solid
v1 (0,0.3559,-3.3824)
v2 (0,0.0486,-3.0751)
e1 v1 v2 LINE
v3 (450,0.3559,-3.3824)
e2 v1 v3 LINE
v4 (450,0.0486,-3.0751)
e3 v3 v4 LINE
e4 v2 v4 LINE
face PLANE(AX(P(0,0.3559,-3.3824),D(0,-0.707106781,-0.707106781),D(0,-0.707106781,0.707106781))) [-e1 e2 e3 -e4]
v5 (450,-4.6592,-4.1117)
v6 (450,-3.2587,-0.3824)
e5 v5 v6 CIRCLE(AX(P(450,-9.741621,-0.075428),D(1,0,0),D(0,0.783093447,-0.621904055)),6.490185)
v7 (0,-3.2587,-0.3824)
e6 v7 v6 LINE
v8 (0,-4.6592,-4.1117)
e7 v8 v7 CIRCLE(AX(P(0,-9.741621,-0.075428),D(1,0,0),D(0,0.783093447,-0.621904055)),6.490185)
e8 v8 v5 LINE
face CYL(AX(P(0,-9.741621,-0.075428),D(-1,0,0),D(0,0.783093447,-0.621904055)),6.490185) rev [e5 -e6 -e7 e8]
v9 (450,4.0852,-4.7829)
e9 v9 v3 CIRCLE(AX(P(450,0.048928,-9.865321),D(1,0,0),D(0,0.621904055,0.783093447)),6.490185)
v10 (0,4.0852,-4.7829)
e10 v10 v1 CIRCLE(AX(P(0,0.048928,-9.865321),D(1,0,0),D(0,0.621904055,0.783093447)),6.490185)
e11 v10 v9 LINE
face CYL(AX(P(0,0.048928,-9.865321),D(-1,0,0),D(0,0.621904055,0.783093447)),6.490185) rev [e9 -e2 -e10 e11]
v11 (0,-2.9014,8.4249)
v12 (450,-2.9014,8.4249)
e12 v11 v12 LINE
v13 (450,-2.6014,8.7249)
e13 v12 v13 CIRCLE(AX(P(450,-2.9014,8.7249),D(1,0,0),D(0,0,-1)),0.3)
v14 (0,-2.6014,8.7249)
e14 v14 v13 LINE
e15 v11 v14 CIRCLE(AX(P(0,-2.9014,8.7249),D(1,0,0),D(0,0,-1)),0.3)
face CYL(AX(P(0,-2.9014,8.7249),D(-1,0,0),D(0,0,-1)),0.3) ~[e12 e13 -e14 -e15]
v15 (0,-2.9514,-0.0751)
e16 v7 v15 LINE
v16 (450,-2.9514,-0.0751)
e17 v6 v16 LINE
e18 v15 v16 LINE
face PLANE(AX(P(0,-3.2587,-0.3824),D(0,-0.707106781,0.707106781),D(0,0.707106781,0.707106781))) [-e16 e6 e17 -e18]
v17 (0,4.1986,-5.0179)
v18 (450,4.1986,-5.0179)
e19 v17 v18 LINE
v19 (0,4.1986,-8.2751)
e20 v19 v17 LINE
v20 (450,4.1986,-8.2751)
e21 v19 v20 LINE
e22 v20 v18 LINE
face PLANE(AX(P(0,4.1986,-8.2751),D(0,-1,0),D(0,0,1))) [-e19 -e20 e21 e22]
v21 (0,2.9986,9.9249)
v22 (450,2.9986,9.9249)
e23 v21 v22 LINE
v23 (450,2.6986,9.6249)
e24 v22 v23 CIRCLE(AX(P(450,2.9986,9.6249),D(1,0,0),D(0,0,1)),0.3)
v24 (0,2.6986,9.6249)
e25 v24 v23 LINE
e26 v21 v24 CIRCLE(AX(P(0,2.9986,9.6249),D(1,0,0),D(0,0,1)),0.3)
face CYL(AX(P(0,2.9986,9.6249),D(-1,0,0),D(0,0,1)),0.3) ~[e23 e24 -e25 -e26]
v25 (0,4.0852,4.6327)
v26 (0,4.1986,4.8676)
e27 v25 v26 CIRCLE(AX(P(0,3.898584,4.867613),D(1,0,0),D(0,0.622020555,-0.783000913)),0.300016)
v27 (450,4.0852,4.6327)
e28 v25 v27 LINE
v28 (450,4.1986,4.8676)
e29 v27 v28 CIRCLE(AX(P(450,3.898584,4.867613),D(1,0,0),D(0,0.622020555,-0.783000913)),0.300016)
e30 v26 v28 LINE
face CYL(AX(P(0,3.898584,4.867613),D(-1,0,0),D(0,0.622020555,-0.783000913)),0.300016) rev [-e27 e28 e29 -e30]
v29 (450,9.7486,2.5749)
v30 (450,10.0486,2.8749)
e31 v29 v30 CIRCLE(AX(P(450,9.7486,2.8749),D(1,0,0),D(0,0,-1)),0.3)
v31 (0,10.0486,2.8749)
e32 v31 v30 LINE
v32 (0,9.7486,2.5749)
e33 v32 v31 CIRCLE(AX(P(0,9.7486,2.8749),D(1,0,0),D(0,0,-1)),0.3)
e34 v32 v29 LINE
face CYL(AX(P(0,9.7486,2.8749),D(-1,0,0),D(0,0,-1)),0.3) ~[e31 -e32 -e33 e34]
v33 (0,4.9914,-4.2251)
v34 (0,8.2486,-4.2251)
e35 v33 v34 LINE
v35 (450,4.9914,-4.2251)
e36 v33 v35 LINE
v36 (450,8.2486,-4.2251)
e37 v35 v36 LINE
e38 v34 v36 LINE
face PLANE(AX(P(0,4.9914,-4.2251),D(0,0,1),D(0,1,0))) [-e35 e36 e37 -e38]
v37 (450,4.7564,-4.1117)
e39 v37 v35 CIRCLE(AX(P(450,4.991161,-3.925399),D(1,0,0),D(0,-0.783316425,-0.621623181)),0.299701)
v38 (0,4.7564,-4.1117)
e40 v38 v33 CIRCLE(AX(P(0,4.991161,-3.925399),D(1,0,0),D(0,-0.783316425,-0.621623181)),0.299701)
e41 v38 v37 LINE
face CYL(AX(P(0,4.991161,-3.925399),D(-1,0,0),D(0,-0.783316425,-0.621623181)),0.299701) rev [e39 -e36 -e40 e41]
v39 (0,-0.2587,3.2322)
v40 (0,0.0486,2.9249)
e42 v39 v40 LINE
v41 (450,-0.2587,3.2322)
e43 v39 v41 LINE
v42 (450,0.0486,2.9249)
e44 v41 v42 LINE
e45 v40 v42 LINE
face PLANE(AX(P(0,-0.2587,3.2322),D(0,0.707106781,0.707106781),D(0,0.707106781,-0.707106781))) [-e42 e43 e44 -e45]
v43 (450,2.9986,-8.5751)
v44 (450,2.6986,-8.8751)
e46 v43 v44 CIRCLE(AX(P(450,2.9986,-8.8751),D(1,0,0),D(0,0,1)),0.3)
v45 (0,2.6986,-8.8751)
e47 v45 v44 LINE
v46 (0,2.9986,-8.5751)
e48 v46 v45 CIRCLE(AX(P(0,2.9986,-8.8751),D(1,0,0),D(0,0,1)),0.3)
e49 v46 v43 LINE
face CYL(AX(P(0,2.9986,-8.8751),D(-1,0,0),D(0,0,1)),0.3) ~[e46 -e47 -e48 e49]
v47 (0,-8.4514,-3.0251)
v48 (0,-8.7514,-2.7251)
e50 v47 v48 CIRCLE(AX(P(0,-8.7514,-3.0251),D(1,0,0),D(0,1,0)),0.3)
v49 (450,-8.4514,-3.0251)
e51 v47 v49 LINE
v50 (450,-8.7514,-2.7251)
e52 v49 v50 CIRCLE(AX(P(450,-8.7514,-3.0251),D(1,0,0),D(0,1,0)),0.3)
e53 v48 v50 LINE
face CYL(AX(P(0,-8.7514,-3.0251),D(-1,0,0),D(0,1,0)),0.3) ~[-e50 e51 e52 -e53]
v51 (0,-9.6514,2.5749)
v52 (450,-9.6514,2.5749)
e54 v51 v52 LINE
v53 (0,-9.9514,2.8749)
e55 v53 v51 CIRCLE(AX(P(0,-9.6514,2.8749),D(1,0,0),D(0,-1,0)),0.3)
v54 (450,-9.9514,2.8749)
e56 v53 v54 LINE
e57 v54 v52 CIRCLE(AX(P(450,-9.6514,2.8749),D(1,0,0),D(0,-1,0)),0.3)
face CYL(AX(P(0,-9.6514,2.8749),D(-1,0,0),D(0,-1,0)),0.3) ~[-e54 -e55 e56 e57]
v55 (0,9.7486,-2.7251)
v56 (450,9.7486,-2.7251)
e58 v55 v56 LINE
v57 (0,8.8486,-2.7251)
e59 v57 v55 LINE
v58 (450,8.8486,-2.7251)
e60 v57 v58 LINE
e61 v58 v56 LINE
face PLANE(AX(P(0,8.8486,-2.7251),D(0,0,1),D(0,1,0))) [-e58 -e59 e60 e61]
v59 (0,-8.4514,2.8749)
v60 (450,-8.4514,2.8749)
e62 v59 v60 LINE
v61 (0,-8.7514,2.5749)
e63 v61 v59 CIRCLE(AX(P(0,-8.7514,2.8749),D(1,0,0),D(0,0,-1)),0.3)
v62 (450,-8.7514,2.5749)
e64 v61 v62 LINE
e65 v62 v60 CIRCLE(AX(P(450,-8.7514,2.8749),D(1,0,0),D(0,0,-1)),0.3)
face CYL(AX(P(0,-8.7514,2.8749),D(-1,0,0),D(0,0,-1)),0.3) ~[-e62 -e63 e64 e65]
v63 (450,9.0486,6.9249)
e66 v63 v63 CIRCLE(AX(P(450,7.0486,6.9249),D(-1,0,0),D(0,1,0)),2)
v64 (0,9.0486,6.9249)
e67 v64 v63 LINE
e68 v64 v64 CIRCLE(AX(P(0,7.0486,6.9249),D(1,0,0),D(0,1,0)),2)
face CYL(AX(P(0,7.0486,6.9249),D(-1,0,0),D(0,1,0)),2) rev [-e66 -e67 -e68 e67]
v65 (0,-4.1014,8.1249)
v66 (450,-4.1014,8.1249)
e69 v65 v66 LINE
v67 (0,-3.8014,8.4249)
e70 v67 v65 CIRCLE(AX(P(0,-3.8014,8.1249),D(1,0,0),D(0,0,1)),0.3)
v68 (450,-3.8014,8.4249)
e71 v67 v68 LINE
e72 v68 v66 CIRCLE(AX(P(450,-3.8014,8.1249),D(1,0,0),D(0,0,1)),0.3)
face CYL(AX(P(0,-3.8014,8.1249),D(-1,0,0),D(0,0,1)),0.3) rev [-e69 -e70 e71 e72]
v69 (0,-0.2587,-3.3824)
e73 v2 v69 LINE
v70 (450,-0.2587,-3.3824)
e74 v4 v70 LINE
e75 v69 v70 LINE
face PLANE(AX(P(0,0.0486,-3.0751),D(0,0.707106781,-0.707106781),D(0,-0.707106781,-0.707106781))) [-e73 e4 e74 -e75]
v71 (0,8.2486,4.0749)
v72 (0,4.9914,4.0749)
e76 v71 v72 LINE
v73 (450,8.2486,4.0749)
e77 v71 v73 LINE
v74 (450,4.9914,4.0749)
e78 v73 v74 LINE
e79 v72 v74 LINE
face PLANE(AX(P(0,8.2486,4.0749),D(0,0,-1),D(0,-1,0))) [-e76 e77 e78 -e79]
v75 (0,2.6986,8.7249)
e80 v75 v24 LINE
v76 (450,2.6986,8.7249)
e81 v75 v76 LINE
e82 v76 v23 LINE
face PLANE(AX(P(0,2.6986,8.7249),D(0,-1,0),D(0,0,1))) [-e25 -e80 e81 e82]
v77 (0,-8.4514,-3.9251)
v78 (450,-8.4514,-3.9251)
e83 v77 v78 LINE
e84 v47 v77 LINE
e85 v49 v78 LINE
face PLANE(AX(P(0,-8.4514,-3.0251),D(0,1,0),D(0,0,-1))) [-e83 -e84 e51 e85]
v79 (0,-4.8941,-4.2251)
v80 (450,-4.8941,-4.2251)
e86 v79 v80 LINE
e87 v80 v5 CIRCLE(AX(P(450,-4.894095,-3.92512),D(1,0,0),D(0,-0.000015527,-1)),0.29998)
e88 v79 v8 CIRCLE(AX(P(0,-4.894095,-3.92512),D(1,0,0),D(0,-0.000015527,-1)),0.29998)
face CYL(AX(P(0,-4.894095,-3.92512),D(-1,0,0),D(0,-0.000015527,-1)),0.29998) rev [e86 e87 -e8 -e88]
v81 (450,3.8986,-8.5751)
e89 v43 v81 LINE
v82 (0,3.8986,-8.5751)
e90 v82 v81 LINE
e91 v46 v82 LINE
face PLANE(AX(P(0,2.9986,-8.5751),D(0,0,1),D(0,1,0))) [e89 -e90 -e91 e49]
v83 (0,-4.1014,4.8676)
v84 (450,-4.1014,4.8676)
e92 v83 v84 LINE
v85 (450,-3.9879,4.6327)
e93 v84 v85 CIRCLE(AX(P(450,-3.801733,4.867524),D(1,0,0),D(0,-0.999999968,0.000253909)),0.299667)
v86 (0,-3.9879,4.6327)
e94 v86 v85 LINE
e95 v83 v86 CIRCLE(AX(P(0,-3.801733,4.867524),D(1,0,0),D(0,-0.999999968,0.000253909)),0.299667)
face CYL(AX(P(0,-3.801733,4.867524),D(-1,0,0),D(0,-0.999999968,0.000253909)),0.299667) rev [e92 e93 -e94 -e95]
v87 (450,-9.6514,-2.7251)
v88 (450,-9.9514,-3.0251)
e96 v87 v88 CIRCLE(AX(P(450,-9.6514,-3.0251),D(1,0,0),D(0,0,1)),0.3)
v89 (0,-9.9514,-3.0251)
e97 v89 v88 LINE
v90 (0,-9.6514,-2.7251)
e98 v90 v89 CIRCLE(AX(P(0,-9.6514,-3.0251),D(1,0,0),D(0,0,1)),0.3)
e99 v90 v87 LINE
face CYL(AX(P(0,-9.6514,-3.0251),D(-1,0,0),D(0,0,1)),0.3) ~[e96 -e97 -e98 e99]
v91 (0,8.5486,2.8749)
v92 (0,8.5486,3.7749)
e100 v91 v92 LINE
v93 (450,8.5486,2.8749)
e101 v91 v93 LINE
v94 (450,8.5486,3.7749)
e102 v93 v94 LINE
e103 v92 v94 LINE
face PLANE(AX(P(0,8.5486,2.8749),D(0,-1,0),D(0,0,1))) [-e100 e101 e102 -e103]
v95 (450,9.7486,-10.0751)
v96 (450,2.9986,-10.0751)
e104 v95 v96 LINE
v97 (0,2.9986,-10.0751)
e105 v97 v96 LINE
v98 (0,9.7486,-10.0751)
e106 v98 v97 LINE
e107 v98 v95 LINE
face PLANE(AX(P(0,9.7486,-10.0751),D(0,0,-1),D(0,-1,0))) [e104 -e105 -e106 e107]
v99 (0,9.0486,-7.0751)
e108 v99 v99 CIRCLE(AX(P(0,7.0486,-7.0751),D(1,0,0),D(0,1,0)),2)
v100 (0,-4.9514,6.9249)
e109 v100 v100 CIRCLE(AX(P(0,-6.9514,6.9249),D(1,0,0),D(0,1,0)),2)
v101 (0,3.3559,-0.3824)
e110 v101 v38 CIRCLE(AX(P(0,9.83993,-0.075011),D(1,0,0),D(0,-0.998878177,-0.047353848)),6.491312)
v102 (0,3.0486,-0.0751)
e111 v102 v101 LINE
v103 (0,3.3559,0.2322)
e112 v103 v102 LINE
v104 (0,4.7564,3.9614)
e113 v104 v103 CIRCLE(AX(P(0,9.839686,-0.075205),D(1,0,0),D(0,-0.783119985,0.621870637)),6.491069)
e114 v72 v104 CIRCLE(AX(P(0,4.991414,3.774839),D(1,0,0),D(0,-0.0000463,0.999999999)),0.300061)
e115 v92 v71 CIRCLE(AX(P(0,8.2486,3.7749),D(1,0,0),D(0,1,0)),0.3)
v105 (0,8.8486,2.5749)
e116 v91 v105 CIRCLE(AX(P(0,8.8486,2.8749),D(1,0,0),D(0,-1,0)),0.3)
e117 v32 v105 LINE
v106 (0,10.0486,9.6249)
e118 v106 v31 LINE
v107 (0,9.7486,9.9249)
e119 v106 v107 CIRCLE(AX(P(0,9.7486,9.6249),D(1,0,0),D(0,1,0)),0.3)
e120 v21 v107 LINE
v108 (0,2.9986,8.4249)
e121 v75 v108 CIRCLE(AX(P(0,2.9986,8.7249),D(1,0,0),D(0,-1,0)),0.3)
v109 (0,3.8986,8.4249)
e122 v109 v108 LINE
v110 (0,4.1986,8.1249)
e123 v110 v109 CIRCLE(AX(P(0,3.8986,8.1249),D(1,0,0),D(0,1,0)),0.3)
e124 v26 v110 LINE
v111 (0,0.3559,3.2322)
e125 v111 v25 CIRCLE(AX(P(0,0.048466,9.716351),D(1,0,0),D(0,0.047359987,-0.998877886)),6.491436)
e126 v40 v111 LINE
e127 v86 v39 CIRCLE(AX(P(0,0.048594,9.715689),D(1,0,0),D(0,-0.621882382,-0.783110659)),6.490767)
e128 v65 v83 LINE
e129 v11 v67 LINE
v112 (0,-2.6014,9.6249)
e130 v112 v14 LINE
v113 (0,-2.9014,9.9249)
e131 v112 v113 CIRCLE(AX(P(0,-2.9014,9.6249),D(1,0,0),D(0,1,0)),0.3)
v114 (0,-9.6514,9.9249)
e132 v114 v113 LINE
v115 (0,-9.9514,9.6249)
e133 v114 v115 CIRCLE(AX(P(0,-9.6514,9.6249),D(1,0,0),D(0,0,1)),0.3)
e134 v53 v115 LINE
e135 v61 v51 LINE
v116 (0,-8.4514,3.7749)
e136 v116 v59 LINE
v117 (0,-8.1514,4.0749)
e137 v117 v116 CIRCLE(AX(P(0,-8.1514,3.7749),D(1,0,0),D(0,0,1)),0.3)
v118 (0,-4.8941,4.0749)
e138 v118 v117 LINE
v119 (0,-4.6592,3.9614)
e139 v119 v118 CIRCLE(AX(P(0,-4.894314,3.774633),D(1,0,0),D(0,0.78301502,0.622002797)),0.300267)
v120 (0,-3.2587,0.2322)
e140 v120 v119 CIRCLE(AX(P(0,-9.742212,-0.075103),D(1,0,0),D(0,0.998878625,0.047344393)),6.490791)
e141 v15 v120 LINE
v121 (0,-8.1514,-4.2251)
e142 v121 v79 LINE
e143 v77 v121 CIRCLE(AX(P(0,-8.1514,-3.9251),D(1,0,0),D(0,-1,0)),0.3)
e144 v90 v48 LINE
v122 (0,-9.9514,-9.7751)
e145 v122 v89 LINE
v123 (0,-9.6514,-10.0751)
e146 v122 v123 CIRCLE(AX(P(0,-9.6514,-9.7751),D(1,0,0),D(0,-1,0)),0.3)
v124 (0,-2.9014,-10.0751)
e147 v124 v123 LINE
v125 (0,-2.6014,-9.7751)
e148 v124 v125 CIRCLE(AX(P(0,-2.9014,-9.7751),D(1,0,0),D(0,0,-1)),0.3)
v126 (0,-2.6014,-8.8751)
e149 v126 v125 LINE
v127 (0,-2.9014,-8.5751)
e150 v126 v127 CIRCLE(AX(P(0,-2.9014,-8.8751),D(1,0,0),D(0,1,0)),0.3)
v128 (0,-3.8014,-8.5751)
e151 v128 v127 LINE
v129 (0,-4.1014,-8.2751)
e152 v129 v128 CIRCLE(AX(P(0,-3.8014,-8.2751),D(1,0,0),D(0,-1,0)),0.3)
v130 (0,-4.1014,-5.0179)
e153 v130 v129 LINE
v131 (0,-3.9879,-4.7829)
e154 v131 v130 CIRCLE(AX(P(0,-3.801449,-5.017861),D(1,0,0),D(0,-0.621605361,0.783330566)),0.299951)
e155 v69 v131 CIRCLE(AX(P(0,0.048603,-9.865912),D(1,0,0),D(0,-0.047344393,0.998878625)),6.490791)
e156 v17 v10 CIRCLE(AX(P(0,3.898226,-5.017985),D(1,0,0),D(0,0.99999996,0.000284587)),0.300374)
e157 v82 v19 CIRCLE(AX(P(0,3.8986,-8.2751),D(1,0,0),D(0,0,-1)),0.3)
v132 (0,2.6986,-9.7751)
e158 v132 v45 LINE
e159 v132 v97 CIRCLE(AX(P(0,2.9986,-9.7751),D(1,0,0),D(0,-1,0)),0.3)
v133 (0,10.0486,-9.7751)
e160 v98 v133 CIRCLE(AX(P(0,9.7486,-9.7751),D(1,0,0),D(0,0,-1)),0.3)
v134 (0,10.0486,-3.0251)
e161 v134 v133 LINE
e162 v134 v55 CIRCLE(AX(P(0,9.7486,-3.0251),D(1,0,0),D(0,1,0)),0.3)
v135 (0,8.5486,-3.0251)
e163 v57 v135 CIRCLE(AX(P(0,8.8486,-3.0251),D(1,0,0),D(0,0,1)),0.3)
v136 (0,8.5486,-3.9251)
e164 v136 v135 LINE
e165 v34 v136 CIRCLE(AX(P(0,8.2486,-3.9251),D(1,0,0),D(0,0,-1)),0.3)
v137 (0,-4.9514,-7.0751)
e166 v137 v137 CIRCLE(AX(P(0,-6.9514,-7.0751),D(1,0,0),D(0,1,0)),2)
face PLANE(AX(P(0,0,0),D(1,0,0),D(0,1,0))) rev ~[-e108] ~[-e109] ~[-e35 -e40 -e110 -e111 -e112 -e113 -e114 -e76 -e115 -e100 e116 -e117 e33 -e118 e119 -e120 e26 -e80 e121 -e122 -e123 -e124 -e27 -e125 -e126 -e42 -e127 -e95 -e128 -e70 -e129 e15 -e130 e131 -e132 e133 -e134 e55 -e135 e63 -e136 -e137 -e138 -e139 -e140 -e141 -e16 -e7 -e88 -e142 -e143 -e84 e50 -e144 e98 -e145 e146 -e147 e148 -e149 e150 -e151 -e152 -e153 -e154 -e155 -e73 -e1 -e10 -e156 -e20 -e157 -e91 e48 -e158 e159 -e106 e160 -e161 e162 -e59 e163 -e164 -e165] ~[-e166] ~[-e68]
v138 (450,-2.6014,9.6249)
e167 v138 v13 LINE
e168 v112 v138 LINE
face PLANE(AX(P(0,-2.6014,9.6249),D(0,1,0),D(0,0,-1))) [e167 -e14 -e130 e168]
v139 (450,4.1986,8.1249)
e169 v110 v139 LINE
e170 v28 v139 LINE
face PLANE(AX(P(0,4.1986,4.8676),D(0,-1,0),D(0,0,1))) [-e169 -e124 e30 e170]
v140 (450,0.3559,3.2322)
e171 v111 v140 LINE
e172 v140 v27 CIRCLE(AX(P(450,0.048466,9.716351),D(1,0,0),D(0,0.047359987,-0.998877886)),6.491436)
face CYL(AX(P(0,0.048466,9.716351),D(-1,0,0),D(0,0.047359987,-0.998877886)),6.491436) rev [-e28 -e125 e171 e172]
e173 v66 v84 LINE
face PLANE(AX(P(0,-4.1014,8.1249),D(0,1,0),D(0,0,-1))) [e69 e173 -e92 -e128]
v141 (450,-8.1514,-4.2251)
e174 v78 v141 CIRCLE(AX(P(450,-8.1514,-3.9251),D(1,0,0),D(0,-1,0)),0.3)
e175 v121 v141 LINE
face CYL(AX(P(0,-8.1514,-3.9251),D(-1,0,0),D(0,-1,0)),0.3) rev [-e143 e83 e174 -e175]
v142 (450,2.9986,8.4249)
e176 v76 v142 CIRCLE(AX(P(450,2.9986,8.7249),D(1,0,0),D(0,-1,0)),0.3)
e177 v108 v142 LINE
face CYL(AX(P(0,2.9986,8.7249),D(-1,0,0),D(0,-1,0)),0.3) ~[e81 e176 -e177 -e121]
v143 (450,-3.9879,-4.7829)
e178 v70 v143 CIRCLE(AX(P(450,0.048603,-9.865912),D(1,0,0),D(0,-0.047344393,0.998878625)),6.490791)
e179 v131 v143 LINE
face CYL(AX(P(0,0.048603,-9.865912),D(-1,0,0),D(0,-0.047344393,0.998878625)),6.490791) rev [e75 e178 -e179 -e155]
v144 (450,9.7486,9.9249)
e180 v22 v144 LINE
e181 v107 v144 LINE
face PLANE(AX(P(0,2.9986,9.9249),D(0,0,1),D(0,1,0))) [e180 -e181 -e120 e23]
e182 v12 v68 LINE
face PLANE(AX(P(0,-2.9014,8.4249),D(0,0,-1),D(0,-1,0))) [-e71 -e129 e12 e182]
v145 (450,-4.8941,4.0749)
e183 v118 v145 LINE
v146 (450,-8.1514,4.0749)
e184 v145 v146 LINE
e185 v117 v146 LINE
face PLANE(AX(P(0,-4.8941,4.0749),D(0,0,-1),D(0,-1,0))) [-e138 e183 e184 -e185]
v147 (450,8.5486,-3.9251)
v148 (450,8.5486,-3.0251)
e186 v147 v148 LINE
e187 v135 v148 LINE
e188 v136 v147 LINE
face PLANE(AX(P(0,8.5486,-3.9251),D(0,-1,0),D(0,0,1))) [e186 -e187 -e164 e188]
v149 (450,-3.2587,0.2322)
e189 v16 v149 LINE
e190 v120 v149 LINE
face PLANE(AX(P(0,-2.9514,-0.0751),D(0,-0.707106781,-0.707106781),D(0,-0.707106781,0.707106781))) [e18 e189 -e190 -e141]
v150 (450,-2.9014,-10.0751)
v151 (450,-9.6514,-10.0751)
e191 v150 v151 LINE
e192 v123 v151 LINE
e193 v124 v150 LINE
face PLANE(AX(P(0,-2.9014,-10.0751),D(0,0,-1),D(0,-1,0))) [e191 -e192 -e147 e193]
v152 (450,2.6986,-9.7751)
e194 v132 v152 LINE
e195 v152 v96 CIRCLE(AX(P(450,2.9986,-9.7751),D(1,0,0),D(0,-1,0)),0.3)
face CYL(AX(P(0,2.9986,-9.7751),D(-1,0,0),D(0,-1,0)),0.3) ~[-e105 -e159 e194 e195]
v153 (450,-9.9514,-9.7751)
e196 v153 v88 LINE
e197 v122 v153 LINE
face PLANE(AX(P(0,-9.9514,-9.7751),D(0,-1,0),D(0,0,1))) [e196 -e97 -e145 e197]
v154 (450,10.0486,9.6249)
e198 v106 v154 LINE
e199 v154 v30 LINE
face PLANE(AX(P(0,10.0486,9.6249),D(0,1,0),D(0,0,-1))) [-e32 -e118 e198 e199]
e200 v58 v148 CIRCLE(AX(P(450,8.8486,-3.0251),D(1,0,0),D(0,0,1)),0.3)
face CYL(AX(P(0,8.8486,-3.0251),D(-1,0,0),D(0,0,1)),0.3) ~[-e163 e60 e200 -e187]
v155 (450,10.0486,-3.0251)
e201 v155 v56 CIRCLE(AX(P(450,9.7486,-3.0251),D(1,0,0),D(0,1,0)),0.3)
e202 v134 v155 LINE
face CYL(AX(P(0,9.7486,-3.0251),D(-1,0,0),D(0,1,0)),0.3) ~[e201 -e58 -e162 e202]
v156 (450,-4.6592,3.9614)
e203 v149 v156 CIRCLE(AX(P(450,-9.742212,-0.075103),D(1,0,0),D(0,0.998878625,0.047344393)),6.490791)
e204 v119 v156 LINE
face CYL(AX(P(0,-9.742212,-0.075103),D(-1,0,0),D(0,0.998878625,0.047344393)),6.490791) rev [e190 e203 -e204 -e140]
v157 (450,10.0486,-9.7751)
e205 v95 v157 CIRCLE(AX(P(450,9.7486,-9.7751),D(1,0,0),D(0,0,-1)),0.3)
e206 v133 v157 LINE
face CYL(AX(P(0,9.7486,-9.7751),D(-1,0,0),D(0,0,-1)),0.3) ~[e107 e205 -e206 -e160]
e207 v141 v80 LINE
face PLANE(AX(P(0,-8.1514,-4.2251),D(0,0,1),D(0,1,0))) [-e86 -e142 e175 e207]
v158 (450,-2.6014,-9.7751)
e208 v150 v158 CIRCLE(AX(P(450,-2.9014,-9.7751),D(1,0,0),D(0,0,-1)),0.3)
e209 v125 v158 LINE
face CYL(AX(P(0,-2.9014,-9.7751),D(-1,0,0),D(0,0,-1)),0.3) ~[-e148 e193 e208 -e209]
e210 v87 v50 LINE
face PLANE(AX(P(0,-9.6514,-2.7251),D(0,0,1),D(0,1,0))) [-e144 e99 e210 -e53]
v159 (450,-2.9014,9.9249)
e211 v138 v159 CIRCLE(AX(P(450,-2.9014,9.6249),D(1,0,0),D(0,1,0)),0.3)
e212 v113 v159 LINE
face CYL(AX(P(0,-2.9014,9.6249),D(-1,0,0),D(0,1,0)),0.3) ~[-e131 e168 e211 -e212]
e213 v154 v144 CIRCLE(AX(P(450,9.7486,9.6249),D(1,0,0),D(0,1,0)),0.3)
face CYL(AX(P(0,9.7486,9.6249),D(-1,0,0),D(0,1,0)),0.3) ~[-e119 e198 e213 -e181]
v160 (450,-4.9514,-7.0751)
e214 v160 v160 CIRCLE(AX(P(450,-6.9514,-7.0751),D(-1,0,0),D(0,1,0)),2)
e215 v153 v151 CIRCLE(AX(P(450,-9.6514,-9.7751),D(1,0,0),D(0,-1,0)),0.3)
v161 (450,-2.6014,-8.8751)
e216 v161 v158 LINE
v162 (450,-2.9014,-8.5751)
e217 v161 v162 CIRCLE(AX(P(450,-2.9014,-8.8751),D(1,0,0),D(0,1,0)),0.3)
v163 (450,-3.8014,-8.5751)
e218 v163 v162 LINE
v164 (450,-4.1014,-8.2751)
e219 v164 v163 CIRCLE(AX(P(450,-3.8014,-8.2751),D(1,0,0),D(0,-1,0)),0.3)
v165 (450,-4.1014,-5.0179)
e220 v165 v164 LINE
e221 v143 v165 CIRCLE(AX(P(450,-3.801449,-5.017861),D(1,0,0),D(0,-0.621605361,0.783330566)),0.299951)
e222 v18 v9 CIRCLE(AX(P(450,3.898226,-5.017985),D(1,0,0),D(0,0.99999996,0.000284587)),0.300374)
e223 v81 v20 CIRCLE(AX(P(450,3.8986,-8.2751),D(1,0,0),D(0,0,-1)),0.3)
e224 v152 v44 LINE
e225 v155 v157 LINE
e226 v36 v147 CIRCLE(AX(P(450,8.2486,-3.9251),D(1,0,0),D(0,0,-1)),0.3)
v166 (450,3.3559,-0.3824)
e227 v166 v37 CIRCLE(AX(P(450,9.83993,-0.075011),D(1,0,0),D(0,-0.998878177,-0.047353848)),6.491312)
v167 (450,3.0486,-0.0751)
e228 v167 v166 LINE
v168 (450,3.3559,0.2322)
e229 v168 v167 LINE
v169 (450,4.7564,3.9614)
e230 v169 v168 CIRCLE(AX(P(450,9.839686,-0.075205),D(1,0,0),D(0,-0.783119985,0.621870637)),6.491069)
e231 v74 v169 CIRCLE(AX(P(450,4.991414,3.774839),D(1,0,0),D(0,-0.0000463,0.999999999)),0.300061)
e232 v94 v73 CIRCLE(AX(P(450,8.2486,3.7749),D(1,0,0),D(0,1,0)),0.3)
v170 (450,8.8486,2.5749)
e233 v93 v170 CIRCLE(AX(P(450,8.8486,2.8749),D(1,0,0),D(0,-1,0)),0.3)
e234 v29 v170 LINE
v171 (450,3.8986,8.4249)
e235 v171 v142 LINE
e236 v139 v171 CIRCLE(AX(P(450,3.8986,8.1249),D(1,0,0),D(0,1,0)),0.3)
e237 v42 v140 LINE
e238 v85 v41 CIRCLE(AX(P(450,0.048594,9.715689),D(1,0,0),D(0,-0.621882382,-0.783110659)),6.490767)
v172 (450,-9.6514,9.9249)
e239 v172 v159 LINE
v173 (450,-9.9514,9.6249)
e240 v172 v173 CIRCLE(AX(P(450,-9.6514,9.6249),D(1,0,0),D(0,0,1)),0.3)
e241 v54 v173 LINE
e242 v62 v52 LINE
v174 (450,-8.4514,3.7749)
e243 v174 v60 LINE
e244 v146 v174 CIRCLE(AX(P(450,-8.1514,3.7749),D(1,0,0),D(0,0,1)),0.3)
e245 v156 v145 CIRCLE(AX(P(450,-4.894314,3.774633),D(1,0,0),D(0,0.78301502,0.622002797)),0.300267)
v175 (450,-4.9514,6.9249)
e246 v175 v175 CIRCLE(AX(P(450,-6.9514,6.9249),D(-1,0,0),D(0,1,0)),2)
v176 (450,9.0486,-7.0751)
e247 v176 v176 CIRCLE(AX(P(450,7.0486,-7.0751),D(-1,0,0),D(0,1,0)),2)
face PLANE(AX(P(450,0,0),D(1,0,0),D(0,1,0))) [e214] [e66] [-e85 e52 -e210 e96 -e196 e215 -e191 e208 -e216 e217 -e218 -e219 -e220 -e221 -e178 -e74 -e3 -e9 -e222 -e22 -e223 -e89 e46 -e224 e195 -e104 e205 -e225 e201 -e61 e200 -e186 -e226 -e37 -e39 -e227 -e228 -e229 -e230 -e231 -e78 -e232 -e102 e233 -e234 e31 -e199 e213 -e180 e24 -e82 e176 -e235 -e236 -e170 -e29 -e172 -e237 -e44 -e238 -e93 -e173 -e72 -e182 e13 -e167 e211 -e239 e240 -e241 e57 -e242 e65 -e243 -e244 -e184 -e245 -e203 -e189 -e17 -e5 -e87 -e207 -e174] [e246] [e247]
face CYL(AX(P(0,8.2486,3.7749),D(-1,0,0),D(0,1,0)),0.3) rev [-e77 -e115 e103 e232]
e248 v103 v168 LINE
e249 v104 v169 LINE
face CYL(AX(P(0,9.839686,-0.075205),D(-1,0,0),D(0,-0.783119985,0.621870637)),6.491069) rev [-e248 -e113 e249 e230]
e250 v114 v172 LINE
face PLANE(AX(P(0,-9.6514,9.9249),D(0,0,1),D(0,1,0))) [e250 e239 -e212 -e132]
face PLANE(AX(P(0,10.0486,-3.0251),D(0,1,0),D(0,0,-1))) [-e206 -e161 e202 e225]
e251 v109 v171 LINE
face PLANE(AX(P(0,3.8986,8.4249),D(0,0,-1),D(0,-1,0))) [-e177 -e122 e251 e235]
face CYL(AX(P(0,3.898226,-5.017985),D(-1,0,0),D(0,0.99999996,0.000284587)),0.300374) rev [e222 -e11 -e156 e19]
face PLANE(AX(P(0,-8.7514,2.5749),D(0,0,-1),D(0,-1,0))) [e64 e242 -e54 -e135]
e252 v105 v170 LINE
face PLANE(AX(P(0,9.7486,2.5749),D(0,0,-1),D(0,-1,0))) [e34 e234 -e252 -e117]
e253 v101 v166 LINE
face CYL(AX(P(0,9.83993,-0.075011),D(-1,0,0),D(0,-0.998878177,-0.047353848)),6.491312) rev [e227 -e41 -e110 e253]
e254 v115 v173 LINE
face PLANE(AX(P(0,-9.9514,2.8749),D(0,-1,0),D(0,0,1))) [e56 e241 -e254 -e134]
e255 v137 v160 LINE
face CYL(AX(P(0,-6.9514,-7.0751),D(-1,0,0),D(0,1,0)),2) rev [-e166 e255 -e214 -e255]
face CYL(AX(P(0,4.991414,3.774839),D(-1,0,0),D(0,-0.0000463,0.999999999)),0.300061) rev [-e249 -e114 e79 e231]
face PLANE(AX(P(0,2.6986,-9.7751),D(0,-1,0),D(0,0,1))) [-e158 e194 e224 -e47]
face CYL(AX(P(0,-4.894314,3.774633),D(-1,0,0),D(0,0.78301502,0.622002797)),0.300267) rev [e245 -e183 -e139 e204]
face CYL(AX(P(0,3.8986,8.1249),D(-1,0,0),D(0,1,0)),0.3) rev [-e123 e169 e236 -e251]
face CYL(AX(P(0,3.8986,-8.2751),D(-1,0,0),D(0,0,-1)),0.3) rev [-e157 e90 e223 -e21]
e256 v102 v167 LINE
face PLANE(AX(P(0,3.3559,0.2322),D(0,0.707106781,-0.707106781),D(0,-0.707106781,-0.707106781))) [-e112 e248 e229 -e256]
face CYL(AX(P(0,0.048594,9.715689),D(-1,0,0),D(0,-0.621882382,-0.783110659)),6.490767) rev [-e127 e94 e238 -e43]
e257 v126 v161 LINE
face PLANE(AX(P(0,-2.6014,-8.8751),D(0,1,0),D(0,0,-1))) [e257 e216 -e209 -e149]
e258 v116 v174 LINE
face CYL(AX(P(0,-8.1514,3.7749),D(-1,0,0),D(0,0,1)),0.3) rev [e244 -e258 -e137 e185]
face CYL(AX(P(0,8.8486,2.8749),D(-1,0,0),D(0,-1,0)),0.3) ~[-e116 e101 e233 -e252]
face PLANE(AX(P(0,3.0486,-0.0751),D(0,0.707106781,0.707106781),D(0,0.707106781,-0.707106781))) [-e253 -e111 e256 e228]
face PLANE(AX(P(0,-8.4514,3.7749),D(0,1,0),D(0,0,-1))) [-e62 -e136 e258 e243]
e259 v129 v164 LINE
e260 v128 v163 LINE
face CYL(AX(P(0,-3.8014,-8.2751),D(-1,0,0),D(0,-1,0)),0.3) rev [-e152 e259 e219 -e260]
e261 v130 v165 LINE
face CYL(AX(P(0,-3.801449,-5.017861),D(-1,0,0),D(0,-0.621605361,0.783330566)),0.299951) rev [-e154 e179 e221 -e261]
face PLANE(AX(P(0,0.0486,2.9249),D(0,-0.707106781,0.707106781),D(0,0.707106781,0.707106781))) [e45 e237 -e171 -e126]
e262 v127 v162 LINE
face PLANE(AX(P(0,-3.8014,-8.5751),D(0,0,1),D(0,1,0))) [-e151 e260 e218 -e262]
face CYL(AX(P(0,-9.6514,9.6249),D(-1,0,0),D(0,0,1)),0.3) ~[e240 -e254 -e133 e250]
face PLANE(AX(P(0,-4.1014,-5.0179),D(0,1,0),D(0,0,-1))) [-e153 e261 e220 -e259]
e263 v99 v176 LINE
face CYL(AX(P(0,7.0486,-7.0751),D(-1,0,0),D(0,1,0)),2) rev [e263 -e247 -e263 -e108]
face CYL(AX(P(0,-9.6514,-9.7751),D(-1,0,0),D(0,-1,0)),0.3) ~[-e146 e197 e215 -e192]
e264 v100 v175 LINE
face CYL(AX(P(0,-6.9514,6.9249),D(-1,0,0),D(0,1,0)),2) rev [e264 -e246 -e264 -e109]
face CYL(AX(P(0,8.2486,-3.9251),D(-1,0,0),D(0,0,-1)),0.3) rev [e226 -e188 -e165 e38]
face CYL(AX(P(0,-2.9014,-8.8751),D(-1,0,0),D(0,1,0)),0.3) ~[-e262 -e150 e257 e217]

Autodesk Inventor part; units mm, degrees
ref_plane "YZ Plane" through (0, 0, 0) normal (1, 0, 0) x (0, 1, 0)
ref_plane "XZ Plane" through (0, 0, 0) normal (0, 1, 0) x (-1, 0, 0)
ref_plane "XY Plane" through (0, 0, 0) normal (0, 0, 1) x (1, 0, 0)
sketch "Sketch1" plane through (0, 0, 0) normal (1, 0, 0) x (0, 1, 0)
  line L0 (9.5486, -7.0751) -> (4.5486, -7.0751)
  line L1 (7.0486, -9.5751) -> (7.0486, -4.5751)
  circle A0 centre (7.0486, -7.0751) radius 2
  circle A1 centre (7.0486, 6.9249) radius 2
  line L2 (7.0486, 9.4249) -> (7.0486, 4.4249)
  line L3 (9.5486, 6.9249) -> (4.5486, 6.9249)
  line L4 (4.1986, 4.8676) -> (4.1986, 8.1249)
  arc A2 (4.1986, 8.1249) -> (3.8986, 8.4249) centre (3.8986, 8.1249) ccw
  line L5 (3.8986, 8.4249) -> (2.9986, 8.4249)
  arc A3 (2.6986, 8.7249) -> (2.9986, 8.4249) centre (2.9986, 8.7249) ccw
  line L6 (2.6986, 8.7249) -> (2.6986, 9.6249)
  arc A4 (2.9986, 9.9249) -> (2.6986, 9.6249) centre (2.9986, 9.6249) ccw
  line L7 (2.9986, 9.9249) -> (9.7486, 9.9249)
  arc A5 (10.0486, 9.6249) -> (9.7486, 9.9249) centre (9.7486, 9.6249) ccw
  line L8 (10.0486, 9.6249) -> (10.0486, 2.8749)
  arc A6 (9.7486, 2.5749) -> (10.0486, 2.8749) centre (9.7486, 2.8749) ccw
  line L9 (9.7486, 2.5749) -> (8.8486, 2.5749)
  arc A7 (8.5486, 2.8749) -> (8.8486, 2.5749) centre (8.8486, 2.8749) ccw
  line L10 (8.5486, 2.8749) -> (8.5486, 3.7749)
  arc A8 (8.5486, 3.7749) -> (8.2486, 4.0749) centre (8.2486, 3.7749) ccw
  line L11 (8.2486, 4.0749) -> (4.9914, 4.0749)
  arc A9 (4.9914, 4.0749) -> (4.7564, 3.9614) centre (4.9914, 3.7749) ccw
  arc A10 (4.7564, 3.9614) -> (3.3559, 0.2322) centre (9.8395, -0.0751) ccw
  line L12 (3.3559, 0.2322) -> (3.0486, -0.0751)
  line L13 (3.0486, -0.0751) -> (3.3559, -0.3824)
  arc A11 (3.3559, -0.3824) -> (4.7564, -4.1117) centre (9.8395, -0.0751) ccw
  arc A12 (4.7564, -4.1117) -> (4.9914, -4.2251) centre (4.9914, -3.9251) ccw
  line L14 (4.9914, -4.2251) -> (8.2486, -4.2251)
  arc A13 (8.2486, -4.2251) -> (8.5486, -3.9251) centre (8.2486, -3.9251) ccw
  line L15 (8.5486, -3.9251) -> (8.5486, -3.0251)
  arc A14 (8.8486, -2.7251) -> (8.5486, -3.0251) centre (8.8486, -3.0251) ccw
  line L16 (8.8486, -2.7251) -> (9.7486, -2.7251)
  arc A15 (10.0486, -3.0251) -> (9.7486, -2.7251) centre (9.7486, -3.0251) ccw
  line L17 (10.0486, -3.0251) -> (10.0486, -9.7751)
  arc A16 (9.7486, -10.0751) -> (10.0486, -9.7751) centre (9.7486, -9.7751) ccw
  line L18 (9.7486, -10.0751) -> (2.9986, -10.0751)
  arc A17 (2.6986, -9.7751) -> (2.9986, -10.0751) centre (2.9986, -9.7751) ccw
  line L19 (2.6986, -9.7751) -> (2.6986, -8.8751)
  arc A18 (2.9986, -8.5751) -> (2.6986, -8.8751) centre (2.9986, -8.8751) ccw
  line L20 (2.9986, -8.5751) -> (3.8986, -8.5751)
  arc A19 (3.8986, -8.5751) -> (4.1986, -8.2751) centre (3.8986, -8.2751) ccw
  line L21 (4.1986, -8.2751) -> (4.1986, -5.0179)
  arc A20 (4.1986, -5.0179) -> (4.0852, -4.7829) centre (3.8986, -5.0179) ccw
  arc A21 (4.0852, -4.7829) -> (0.3559, -3.3824) centre (0.0486, -9.8659) ccw
  line L22 (0.3559, -3.3824) -> (0.0486, -3.0751)
  line L23 (0.0486, -3.0751) -> (-0.2587, -3.3824)
  arc A22 (-0.2587, -3.3824) -> (-3.9879, -4.7829) centre (0.0486, -9.8659) ccw
  arc A23 (-3.9879, -4.7829) -> (-4.1014, -5.0179) centre (-3.8014, -5.0179) ccw
  line L24 (-4.1014, -5.0179) -> (-4.1014, -8.2751)
  arc A24 (-4.1014, -8.2751) -> (-3.8014, -8.5751) centre (-3.8014, -8.2751) ccw
  line L25 (-3.8014, -8.5751) -> (-2.9014, -8.5751)
  arc A25 (-2.6014, -8.8751) -> (-2.9014, -8.5751) centre (-2.9014, -8.8751) ccw
  line L26 (-2.6014, -8.8751) -> (-2.6014, -9.7751)
  arc A26 (-2.9014, -10.0751) -> (-2.6014, -9.7751) centre (-2.9014, -9.7751) ccw
  line L27 (-2.9014, -10.0751) -> (-9.6514, -10.0751)
  arc A27 (-9.9514, -9.7751) -> (-9.6514, -10.0751) centre (-9.6514, -9.7751) ccw
  line L28 (-9.9514, -9.7751) -> (-9.9514, -3.0251)
  arc A28 (-9.6514, -2.7251) -> (-9.9514, -3.0251) centre (-9.6514, -3.0251) ccw
  line L29 (-9.6514, -2.7251) -> (-8.7514, -2.7251)
  arc A29 (-8.4514, -3.0251) -> (-8.7514, -2.7251) centre (-8.7514, -3.0251) ccw
  line L30 (-8.4514, -3.0251) -> (-8.4514, -3.9251)
  arc A30 (-8.4514, -3.9251) -> (-8.1514, -4.2251) centre (-8.1514, -3.9251) ccw
  line L31 (-8.1514, -4.2251) -> (-4.8941, -4.2251)
  arc A31 (-4.8941, -4.2251) -> (-4.6592, -4.1117) centre (-4.8941, -3.9251) ccw
  arc A32 (-4.6592, -4.1117) -> (-3.2587, -0.3824) centre (-9.7422, -0.0751) ccw
  line L32 (-3.2587, -0.3824) -> (-2.9514, -0.0751)
  line L33 (-2.9514, -0.0751) -> (-3.2587, 0.2322)
  arc A33 (-3.2587, 0.2322) -> (-4.6592, 3.9614) centre (-9.7422, -0.0751) ccw
  arc A34 (-4.6592, 3.9614) -> (-4.8941, 4.0749) centre (-4.8941, 3.7749) ccw
  line L34 (-4.8941, 4.0749) -> (-8.1514, 4.0749)
  arc A35 (-8.1514, 4.0749) -> (-8.4514, 3.7749) centre (-8.1514, 3.7749) ccw
  line L35 (-8.4514, 3.7749) -> (-8.4514, 2.8749)
  arc A36 (-8.7514, 2.5749) -> (-8.4514, 2.8749) centre (-8.7514, 2.8749) ccw
  line L36 (-8.7514, 2.5749) -> (-9.6514, 2.5749)
  arc A37 (-9.9514, 2.8749) -> (-9.6514, 2.5749) centre (-9.6514, 2.8749) ccw
  line L37 (-9.9514, 2.8749) -> (-9.9514, 9.6249)
  arc A38 (-9.6514, 9.9249) -> (-9.9514, 9.6249) centre (-9.6514, 9.6249) ccw
  line L38 (-9.6514, 9.9249) -> (-2.9014, 9.9249)
  arc A39 (-2.6014, 9.6249) -> (-2.9014, 9.9249) centre (-2.9014, 9.6249) ccw
  line L39 (-2.6014, 9.6249) -> (-2.6014, 8.7249)
  arc A40 (-2.9014, 8.4249) -> (-2.6014, 8.7249) centre (-2.9014, 8.7249) ccw
  line L40 (-2.9014, 8.4249) -> (-3.8014, 8.4249)
  arc A41 (-3.8014, 8.4249) -> (-4.1014, 8.1249) centre (-3.8014, 8.1249) ccw
  line L41 (-4.1014, 8.1249) -> (-4.1014, 4.8676)
  arc A42 (-4.1014, 4.8676) -> (-3.9879, 4.6327) centre (-3.8014, 4.8676) ccw
  arc A43 (-3.9879, 4.6327) -> (-0.2587, 3.2322) centre (0.0486, 9.7157) ccw
  line L42 (-0.2587, 3.2322) -> (0.0486, 2.9249)
  line L43 (0.0486, 2.9249) -> (0.3559, 3.2322)
  arc A44 (0.3559, 3.2322) -> (4.0852, 4.6327) centre (0.0486, 9.7157) ccw
  arc A45 (4.0852, 4.6327) -> (4.1986, 4.8676) centre (3.8986, 4.8676) ccw
  line L44 (-11.1503, -0.0751) -> (11.2475, -0.0751)
  circle A46 centre (0.0486, -0.0751) radius 2.15
  circle A47 centre (-6.9514, -7.0751) radius 2
  line L45 (-6.9514, -9.5751) -> (-6.9514, -4.5751)
  line L46 (-9.4514, -7.0751) -> (-4.4514, -7.0751)
  circle A48 centre (-6.9514, 6.9249) radius 2
  line L47 (-6.9514, 9.4249) -> (-6.9514, 4.4249)
  line L48 (-9.4514, 6.9249) -> (-4.4514, 6.9249)
extrude "Extrusion1" add sketch "Sketch1" along normal blind 450
equation "\"BendRadius\" = Thickness"
equation "\"BendReliefWidth\" = Thickness"
equation "\"BendReliefDepth\" = 0.5 * Thickness"
equation "\"CornerReliefSize\" = 4 * Thickness"
equation "\"MinimumRemnant\" = 2 * Thickness"
equation "\"TransitionRadius\" = BendRadius"
equation "\"JacobiRadiusSize\" = BendRadius"
equation "\"GapSize\" = Thickness"
equation "\"Thickness\" = 3.048"
properties part number "600mm 2020"
